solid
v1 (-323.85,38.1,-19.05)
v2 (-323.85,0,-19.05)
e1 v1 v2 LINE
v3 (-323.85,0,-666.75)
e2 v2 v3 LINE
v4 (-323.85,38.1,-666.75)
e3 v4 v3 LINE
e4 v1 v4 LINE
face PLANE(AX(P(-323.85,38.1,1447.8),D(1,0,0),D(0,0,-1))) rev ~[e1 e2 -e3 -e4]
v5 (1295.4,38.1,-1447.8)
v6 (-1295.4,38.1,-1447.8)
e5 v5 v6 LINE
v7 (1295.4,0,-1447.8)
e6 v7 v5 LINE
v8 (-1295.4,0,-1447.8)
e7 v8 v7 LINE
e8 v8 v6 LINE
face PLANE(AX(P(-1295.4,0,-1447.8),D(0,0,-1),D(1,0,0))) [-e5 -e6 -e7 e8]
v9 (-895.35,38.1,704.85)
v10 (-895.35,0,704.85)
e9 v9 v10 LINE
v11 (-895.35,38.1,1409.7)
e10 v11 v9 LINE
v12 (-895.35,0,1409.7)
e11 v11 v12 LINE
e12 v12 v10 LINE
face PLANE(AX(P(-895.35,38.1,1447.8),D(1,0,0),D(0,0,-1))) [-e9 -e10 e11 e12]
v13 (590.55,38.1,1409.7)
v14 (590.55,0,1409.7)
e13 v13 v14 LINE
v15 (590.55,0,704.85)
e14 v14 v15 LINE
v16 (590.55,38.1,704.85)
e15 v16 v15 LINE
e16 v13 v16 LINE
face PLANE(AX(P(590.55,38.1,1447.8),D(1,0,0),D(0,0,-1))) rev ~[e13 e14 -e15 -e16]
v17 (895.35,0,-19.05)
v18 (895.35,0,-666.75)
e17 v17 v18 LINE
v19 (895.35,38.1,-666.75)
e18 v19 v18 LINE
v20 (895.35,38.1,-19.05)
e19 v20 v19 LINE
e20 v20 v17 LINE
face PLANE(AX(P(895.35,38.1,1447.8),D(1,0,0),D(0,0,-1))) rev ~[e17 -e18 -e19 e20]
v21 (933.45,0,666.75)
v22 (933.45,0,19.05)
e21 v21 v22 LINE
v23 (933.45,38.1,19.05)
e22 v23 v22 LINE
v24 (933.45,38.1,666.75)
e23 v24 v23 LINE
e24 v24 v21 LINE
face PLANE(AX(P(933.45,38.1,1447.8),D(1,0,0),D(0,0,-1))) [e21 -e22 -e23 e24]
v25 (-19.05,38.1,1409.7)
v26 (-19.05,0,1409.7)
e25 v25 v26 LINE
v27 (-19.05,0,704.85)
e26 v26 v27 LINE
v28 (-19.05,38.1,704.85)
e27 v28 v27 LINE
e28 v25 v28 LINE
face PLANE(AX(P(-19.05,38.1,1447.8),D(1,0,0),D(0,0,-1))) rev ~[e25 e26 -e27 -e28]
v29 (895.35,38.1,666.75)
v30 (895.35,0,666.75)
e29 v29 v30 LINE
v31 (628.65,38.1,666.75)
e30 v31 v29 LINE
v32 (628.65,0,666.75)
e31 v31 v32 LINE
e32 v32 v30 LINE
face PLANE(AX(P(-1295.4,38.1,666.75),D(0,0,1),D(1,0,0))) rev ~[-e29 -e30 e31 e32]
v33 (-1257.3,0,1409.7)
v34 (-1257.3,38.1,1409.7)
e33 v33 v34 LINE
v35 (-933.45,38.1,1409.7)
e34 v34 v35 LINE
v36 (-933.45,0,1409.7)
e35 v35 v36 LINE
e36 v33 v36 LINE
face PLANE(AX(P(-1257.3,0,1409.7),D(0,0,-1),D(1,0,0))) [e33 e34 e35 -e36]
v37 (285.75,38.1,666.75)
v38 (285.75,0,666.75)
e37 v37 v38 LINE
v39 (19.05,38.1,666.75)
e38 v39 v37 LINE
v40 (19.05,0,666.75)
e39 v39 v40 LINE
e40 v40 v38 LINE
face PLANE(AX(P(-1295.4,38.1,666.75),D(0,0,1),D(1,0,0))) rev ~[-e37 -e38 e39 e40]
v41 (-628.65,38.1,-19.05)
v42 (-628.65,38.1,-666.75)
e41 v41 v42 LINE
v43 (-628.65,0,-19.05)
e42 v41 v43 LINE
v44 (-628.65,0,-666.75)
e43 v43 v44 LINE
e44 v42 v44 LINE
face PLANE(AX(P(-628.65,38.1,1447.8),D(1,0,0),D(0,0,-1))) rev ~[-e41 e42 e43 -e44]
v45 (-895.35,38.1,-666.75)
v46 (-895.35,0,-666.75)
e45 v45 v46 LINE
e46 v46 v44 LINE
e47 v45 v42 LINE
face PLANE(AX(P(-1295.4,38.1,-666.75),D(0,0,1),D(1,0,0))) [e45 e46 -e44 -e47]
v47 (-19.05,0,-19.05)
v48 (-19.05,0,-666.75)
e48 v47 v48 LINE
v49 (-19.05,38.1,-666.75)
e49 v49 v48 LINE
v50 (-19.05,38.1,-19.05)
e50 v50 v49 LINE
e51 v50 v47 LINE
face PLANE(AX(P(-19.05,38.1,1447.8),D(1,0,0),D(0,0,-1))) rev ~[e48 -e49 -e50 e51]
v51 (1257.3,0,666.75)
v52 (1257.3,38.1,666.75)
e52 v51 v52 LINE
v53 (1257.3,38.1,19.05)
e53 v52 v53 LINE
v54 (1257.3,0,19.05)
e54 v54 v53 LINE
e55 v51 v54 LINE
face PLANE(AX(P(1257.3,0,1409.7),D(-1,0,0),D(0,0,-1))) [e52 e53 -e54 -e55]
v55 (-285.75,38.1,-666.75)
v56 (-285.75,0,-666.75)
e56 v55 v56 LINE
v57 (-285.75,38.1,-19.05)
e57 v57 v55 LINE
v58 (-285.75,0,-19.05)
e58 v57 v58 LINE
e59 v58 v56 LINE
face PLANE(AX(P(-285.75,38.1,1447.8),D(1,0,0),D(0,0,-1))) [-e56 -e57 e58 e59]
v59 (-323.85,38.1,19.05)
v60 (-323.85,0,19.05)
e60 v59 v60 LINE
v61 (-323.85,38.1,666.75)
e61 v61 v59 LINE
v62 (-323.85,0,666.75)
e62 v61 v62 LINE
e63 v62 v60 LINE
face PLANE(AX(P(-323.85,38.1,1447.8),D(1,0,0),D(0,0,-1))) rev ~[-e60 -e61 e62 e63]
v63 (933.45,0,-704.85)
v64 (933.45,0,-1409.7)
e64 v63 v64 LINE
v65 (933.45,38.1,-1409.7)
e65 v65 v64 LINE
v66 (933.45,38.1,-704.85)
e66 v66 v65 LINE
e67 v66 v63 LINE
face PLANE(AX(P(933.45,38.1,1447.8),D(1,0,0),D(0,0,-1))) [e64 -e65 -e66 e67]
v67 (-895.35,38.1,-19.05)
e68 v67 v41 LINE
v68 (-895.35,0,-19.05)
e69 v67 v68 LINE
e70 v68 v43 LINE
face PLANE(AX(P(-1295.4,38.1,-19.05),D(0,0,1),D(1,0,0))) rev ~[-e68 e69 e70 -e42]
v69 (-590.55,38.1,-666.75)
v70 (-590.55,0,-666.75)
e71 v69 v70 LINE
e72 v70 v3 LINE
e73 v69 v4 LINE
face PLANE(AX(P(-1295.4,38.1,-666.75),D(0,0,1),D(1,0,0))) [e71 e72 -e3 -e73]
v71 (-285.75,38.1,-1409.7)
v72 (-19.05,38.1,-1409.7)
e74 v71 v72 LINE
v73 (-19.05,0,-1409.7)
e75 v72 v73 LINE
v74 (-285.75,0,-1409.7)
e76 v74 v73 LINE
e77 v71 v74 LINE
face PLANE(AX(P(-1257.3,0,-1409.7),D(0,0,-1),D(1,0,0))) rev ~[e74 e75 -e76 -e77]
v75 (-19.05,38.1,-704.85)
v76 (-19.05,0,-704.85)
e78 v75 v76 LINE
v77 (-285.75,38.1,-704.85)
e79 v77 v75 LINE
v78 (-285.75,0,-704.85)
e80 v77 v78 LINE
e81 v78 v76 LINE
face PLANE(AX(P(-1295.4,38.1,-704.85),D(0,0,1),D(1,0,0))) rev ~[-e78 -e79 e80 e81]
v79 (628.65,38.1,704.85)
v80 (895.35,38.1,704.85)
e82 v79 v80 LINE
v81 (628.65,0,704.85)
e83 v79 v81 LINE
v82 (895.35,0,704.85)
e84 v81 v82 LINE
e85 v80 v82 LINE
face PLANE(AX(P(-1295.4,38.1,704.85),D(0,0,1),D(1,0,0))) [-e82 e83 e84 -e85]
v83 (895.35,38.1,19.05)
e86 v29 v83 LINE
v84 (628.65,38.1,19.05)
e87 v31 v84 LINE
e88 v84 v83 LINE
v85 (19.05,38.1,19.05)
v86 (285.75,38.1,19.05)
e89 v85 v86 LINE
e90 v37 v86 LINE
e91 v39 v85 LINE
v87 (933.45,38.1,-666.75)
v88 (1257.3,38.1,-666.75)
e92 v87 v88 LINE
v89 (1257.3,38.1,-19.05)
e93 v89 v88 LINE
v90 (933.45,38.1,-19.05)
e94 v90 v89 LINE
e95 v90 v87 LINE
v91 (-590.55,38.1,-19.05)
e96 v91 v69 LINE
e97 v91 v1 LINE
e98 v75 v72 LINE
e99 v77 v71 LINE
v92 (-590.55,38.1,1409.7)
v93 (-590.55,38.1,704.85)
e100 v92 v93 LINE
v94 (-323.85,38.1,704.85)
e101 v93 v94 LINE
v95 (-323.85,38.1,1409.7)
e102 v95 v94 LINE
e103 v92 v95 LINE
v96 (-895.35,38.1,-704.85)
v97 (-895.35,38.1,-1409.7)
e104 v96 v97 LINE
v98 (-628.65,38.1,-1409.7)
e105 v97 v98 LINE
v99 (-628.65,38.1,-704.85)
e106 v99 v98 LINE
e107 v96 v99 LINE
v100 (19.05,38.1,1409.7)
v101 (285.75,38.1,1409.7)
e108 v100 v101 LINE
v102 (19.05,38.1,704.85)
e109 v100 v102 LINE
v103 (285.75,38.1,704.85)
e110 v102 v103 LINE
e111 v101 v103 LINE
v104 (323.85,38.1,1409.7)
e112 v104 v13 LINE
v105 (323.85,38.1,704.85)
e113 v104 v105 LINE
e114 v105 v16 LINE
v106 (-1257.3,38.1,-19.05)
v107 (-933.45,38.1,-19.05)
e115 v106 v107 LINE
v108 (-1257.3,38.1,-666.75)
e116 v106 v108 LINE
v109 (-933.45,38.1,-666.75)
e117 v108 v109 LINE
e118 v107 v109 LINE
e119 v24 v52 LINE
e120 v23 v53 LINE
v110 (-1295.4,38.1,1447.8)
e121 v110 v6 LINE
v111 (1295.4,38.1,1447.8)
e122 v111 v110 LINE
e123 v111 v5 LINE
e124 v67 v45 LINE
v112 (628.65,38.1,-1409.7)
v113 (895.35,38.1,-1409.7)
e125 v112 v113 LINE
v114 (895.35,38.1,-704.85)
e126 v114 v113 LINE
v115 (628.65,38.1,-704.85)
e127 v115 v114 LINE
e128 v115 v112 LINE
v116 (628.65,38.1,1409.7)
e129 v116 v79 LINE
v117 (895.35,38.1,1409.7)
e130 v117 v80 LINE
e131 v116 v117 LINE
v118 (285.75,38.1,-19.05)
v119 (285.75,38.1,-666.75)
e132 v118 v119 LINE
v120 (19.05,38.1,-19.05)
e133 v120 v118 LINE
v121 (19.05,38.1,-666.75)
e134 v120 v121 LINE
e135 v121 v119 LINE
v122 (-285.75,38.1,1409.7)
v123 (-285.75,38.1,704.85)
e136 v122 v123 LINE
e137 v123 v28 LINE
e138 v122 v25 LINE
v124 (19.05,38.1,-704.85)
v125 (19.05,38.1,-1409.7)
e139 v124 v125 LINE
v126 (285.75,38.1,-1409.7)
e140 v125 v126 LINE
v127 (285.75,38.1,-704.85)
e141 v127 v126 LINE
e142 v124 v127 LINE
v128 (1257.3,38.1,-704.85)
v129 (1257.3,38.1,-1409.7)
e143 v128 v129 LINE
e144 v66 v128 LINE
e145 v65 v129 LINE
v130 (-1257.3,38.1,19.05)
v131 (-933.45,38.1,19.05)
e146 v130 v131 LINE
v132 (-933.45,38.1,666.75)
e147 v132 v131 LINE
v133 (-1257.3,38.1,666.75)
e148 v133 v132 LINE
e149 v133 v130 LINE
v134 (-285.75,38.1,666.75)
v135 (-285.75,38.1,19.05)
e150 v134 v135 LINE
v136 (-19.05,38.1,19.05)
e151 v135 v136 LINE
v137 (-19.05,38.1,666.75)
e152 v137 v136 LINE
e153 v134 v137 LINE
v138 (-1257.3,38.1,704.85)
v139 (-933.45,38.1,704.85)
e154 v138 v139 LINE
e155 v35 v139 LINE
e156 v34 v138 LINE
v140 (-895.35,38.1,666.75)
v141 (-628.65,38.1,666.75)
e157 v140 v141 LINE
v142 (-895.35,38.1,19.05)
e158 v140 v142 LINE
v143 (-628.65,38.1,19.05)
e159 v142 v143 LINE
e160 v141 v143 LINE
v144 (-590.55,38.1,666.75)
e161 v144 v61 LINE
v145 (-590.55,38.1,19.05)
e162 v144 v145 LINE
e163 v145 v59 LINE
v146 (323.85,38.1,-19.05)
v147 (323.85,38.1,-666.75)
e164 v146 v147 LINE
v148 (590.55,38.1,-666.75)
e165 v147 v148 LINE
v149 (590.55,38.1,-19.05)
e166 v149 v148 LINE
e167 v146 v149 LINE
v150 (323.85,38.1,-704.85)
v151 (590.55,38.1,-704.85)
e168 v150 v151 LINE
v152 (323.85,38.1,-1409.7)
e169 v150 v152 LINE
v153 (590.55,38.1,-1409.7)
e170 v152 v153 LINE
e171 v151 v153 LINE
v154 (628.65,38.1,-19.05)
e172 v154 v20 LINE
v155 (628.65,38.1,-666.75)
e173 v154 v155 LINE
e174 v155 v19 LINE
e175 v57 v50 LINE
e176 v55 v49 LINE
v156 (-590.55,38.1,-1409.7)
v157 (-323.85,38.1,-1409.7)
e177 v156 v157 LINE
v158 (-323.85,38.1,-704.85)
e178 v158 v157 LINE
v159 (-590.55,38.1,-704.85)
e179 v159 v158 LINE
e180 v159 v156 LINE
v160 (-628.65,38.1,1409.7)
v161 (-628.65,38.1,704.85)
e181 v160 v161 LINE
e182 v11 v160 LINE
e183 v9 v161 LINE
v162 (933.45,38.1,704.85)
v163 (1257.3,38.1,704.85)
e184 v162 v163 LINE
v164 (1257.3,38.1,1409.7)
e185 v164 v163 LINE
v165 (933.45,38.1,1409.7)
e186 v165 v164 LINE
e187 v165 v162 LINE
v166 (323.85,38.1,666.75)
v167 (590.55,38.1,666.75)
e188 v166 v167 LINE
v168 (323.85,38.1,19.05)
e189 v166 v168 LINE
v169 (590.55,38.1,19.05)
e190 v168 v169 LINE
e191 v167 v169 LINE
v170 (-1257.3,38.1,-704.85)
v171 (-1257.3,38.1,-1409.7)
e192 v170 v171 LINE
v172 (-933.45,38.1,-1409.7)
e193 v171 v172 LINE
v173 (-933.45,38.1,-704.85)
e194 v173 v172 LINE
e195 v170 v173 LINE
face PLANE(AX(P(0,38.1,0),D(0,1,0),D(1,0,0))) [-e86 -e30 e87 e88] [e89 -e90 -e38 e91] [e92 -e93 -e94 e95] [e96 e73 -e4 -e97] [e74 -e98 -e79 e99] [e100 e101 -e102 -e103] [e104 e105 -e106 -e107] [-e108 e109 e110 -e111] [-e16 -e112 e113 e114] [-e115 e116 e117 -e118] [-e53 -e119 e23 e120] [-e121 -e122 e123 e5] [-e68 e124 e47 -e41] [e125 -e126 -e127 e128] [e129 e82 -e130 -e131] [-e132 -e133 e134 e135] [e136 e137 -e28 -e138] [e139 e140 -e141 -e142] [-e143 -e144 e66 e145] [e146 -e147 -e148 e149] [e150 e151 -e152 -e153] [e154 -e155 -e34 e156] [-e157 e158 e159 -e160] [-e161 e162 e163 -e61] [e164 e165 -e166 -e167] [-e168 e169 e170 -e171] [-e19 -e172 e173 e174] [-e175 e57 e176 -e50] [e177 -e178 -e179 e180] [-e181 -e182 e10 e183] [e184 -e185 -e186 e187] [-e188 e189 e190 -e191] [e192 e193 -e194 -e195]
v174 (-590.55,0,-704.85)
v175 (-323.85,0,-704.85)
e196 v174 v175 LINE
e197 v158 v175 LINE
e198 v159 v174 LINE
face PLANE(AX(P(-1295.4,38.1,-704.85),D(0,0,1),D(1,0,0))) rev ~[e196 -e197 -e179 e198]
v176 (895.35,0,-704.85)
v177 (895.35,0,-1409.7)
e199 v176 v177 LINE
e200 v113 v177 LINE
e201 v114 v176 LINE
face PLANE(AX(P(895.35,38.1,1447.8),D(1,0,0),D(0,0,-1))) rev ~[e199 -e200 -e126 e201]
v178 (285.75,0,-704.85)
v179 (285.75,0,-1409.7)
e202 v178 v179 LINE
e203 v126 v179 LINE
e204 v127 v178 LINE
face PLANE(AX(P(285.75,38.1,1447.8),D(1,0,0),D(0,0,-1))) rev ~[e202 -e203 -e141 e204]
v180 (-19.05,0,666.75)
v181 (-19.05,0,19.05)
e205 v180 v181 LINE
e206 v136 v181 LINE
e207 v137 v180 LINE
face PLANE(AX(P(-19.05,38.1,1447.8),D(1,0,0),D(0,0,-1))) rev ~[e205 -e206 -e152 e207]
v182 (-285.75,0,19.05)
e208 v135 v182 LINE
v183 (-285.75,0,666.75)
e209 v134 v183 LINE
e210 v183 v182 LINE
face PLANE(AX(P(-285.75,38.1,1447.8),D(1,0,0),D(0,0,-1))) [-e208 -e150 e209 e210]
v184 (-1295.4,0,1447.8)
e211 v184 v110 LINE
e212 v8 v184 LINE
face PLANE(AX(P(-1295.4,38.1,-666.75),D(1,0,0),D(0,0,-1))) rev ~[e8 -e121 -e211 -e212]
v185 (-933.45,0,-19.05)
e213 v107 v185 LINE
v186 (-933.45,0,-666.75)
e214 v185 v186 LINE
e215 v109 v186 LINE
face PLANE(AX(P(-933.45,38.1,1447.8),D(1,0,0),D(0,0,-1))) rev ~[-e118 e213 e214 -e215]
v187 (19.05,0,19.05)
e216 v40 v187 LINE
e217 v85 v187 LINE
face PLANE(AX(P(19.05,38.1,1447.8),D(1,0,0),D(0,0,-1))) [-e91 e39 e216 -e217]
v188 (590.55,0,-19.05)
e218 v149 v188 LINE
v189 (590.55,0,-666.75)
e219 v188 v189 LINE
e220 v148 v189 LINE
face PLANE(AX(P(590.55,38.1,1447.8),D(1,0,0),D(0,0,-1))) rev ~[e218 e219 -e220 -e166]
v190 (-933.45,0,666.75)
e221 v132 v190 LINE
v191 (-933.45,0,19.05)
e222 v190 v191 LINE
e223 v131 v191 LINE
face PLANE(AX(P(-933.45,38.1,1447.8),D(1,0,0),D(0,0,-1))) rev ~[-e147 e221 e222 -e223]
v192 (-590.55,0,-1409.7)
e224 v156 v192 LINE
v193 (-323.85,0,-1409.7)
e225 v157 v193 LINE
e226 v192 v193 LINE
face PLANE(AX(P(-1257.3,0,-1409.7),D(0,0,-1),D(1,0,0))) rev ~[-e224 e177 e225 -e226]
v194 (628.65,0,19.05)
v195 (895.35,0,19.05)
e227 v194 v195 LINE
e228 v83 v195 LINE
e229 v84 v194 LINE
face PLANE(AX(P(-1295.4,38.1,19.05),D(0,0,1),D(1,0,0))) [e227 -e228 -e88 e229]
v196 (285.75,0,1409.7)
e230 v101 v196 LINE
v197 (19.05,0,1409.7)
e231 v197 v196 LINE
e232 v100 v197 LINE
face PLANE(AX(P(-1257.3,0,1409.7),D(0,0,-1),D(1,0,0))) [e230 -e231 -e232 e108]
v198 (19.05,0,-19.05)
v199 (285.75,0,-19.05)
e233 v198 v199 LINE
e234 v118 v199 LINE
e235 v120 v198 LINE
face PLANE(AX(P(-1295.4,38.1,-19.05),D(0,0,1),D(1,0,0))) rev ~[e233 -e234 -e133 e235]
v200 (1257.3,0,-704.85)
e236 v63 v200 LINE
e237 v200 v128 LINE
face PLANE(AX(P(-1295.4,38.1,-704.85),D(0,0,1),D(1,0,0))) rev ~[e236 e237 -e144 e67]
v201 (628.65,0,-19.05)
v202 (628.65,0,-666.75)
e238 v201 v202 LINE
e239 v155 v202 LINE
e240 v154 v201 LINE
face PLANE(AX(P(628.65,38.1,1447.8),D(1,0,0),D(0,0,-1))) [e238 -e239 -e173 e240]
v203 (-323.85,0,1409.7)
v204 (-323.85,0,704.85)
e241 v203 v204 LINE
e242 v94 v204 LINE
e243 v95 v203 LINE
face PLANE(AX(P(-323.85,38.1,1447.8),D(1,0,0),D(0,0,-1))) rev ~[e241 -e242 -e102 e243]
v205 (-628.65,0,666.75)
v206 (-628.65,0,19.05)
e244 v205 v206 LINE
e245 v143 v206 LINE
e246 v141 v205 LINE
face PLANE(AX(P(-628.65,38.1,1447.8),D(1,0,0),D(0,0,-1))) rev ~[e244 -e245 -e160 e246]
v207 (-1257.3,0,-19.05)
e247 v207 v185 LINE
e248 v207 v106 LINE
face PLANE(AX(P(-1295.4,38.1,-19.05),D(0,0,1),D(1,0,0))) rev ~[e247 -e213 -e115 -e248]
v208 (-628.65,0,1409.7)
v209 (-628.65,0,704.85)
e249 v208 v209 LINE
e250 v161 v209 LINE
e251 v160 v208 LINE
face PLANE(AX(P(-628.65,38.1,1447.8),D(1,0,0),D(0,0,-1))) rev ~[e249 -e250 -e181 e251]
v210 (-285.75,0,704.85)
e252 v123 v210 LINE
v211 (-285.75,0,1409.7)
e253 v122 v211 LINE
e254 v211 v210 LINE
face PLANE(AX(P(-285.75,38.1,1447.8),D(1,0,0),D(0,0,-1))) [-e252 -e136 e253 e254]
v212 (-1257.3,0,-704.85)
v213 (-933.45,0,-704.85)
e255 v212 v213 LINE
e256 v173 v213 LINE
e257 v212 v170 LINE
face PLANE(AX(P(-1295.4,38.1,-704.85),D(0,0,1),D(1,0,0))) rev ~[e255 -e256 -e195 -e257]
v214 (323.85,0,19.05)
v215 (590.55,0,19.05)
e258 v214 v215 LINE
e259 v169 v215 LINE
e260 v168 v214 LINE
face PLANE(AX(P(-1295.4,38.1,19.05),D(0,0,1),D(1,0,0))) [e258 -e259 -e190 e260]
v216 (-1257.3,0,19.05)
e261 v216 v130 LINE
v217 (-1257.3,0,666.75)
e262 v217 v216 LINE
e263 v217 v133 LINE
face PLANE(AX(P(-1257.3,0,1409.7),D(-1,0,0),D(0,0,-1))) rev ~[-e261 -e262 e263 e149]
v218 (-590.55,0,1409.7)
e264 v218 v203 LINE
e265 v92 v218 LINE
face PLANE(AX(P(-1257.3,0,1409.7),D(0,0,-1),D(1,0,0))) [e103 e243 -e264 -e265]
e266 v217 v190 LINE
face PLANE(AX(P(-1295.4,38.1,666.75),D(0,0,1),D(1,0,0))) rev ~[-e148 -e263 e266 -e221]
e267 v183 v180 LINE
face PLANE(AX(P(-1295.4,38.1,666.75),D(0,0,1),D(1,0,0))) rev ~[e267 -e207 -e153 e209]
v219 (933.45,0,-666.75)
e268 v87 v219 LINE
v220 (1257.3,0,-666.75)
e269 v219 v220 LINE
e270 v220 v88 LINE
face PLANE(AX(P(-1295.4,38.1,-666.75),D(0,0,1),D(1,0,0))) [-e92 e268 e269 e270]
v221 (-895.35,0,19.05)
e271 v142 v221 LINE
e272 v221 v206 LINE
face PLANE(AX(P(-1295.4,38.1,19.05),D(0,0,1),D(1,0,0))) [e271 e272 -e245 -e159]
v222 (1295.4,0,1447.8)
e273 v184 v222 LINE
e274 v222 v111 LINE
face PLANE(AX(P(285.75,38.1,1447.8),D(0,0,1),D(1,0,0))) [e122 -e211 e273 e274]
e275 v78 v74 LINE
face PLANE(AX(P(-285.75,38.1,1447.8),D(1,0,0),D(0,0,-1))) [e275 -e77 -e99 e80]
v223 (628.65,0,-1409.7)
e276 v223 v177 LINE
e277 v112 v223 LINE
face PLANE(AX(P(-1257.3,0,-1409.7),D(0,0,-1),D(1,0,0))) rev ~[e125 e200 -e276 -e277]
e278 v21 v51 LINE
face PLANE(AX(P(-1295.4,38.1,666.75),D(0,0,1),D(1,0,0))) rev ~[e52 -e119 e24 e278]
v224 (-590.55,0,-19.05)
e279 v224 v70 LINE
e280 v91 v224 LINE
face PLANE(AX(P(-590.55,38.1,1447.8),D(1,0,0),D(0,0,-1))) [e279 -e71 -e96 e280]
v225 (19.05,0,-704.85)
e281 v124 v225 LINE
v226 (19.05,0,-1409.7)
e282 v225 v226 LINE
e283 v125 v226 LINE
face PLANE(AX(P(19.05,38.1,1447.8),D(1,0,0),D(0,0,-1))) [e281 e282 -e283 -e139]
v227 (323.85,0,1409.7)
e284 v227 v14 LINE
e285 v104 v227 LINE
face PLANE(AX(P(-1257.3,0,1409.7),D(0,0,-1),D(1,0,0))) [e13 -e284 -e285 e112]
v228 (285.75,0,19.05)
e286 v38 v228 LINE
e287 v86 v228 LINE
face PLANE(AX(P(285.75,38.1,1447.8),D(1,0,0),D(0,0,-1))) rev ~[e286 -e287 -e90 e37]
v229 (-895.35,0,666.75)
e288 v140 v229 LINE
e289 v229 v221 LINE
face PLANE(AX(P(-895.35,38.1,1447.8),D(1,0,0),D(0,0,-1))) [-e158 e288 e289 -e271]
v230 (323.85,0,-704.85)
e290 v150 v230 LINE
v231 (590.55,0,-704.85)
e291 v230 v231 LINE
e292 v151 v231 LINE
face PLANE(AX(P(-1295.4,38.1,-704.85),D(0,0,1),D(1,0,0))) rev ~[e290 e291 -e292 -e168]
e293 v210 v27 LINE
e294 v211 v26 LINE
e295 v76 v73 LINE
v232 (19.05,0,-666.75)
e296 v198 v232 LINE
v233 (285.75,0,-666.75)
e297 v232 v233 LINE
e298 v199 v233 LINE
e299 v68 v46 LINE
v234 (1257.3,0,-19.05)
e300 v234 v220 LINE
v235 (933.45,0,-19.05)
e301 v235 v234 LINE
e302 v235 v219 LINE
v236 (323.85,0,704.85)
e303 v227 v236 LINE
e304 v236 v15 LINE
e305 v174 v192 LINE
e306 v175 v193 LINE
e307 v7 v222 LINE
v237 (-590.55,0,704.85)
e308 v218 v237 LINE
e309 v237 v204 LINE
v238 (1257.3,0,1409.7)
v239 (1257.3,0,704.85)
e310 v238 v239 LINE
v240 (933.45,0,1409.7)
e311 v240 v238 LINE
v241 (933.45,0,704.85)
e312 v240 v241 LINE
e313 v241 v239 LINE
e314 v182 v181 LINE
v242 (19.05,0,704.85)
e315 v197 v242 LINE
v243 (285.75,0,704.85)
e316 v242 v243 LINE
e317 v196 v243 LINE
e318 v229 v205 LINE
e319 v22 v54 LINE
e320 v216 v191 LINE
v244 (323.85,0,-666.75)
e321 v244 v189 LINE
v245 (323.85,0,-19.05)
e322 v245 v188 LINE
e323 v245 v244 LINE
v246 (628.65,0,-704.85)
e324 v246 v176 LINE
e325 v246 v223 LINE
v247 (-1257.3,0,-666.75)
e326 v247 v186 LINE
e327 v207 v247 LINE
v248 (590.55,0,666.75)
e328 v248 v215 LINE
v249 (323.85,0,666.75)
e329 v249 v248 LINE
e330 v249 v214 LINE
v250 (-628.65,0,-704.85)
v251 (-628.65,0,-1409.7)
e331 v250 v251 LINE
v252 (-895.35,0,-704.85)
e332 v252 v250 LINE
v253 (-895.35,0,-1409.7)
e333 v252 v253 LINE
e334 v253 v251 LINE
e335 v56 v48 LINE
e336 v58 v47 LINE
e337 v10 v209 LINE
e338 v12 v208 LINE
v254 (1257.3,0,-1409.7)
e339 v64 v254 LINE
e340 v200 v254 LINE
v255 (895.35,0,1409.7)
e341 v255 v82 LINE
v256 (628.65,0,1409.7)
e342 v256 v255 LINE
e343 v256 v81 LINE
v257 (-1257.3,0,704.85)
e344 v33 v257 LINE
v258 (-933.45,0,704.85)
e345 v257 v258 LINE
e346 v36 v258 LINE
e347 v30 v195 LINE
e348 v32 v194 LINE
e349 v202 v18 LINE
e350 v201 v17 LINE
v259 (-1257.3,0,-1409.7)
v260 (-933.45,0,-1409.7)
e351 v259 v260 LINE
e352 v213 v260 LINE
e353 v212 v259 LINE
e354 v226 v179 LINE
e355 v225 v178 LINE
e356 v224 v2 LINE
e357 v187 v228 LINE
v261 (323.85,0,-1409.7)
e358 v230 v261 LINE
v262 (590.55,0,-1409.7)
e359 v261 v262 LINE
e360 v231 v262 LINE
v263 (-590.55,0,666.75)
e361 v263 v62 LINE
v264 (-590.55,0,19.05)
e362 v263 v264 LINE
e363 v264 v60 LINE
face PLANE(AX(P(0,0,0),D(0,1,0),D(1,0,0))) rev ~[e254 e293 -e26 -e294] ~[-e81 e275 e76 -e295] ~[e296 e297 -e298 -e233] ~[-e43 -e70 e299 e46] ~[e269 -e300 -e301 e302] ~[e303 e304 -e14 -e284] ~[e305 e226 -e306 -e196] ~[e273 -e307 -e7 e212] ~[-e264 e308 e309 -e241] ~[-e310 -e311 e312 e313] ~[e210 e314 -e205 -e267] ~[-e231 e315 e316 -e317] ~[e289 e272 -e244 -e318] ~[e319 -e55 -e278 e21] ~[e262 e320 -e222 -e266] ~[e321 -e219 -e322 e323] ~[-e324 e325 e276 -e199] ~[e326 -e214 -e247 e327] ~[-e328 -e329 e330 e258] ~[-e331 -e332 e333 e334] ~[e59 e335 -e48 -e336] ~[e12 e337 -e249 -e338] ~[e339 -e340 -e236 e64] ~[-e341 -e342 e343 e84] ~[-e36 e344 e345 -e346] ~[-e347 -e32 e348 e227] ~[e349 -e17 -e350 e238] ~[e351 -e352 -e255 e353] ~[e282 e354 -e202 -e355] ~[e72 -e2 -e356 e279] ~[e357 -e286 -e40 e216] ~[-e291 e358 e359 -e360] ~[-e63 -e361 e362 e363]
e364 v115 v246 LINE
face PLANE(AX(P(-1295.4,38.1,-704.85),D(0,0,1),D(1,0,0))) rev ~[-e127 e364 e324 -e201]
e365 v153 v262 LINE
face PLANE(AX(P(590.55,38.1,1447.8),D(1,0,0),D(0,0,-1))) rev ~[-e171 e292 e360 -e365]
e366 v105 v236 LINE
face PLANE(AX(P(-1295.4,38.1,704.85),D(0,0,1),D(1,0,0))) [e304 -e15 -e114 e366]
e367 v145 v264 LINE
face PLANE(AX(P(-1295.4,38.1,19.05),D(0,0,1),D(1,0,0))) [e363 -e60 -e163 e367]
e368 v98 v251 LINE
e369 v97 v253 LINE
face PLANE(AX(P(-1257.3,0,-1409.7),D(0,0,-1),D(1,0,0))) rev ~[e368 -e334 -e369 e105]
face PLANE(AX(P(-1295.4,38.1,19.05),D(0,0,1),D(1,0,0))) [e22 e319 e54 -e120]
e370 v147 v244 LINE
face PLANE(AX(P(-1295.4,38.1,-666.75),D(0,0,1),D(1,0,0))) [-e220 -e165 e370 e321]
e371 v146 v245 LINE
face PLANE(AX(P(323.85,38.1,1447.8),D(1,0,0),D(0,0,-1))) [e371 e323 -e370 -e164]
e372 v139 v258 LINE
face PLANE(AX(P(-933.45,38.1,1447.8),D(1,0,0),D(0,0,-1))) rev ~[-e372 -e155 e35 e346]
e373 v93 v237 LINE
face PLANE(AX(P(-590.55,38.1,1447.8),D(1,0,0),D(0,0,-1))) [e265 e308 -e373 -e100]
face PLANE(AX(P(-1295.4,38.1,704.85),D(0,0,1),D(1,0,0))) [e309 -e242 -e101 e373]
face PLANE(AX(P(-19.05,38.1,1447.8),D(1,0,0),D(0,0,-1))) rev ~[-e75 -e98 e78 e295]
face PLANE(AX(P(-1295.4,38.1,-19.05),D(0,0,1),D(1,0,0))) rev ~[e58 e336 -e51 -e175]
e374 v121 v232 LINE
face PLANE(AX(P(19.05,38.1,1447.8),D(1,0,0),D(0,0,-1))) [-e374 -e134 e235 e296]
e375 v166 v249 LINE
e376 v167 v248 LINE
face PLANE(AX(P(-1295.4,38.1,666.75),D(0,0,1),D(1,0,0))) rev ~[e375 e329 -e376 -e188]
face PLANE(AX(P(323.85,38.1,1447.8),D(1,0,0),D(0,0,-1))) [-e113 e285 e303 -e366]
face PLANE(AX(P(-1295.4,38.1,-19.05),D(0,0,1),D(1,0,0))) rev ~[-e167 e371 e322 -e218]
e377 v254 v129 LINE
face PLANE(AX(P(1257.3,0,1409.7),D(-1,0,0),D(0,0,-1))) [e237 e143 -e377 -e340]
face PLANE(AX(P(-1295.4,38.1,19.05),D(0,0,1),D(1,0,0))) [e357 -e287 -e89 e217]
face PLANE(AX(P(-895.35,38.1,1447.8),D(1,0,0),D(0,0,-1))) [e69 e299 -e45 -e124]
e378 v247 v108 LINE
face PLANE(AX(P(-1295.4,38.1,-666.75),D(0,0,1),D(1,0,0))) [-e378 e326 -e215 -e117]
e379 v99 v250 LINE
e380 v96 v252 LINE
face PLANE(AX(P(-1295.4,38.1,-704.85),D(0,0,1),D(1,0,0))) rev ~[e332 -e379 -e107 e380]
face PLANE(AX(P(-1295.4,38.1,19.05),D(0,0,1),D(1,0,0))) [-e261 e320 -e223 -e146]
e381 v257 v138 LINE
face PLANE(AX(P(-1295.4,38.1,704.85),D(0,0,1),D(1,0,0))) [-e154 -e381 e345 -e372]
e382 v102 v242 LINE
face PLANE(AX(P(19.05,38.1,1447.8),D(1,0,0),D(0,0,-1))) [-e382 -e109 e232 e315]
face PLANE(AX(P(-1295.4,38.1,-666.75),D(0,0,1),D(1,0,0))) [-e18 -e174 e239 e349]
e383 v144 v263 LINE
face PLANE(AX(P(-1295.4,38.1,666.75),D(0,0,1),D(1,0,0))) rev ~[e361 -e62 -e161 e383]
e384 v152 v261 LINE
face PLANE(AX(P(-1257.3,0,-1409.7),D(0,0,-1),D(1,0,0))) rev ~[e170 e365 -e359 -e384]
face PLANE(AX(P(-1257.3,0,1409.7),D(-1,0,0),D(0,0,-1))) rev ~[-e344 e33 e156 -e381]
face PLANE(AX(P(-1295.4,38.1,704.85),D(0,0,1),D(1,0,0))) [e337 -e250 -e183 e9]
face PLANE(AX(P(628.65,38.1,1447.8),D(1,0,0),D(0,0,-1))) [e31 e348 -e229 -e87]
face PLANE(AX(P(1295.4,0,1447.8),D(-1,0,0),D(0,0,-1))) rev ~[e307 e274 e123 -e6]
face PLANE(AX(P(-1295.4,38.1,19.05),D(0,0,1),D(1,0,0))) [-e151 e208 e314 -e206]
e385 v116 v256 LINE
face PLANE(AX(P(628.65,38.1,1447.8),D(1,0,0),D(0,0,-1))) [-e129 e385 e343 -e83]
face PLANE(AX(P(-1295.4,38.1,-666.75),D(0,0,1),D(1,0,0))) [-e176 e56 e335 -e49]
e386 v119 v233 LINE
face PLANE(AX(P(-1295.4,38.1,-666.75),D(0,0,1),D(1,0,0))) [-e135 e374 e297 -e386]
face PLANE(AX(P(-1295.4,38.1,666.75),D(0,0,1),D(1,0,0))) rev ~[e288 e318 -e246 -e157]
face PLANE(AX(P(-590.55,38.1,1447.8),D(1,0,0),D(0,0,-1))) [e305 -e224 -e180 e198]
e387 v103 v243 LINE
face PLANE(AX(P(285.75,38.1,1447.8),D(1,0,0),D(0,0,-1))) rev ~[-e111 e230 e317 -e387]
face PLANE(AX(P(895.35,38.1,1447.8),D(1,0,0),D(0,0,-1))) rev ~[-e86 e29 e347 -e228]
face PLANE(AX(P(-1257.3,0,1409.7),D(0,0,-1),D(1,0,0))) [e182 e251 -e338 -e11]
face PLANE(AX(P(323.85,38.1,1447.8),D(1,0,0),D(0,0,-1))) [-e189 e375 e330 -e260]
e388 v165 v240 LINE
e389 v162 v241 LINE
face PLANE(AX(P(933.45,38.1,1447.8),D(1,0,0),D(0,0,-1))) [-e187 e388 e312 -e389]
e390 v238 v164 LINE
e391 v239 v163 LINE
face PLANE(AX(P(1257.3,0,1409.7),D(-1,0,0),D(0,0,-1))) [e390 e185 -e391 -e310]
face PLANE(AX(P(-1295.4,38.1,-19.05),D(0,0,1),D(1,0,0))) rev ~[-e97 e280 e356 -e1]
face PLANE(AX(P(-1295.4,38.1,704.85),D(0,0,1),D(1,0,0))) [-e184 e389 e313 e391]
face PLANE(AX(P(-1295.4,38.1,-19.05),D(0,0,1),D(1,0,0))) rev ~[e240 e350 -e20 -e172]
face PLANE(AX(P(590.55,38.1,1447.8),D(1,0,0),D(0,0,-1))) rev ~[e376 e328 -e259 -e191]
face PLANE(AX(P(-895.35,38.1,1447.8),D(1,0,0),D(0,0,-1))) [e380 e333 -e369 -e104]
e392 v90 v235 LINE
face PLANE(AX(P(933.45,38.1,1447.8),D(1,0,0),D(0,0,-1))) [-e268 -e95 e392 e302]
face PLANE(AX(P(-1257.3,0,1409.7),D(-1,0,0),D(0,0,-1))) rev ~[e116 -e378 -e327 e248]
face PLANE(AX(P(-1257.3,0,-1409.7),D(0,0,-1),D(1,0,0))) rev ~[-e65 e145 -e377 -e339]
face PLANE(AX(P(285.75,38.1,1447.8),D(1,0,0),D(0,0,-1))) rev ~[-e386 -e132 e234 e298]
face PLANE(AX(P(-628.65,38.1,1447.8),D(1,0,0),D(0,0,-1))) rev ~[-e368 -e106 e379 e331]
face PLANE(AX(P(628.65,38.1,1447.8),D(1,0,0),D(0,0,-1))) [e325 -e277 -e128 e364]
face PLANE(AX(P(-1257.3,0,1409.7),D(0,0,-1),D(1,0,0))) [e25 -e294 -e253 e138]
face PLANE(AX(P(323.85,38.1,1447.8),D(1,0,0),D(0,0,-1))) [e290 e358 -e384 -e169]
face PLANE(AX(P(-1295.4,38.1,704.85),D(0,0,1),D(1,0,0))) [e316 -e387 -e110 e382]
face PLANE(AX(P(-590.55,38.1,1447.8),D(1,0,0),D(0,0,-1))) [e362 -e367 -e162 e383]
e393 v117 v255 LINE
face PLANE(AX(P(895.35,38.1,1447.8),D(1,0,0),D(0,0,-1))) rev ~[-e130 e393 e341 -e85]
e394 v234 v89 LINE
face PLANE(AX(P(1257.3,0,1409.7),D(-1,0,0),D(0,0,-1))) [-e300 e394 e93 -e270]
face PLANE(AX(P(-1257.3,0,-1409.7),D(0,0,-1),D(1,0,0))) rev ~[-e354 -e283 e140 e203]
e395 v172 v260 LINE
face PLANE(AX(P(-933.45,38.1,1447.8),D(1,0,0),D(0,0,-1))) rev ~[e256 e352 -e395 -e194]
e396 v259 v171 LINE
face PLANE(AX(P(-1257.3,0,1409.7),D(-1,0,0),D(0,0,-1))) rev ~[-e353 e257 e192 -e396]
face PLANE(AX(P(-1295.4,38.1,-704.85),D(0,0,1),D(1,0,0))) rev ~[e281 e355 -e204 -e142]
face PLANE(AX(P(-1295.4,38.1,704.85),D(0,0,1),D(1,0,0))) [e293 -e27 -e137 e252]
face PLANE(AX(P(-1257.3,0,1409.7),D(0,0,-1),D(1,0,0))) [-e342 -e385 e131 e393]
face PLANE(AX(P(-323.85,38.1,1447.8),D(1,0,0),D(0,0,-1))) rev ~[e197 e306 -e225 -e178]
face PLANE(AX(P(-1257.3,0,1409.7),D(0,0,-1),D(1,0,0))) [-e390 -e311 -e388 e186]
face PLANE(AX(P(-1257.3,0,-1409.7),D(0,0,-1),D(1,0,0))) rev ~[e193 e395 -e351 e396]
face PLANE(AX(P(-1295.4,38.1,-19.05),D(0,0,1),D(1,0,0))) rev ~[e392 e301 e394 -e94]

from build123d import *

# Parameters (mm, degrees)
SKETCH1_W           = 2590.8
SKETCH1_H           = 2895.6
SKETCH1_W_2         = 2514.6
SKETCH1_H_2         = 2819.4
BOSS_EXTRUDE1_DEPTH = 38.1
SKETCH2_W           = 38.1
SKETCH2_H           = 2895.6
BOSS_EXTRUDE2_DEPTH = 38.1
LPATTERN1_COUNT     = 4
LPATTERN1_PITCH     = 304.8
LPATTERN2_COUNT     = 4
LPATTERN2_PITCH     = 304.8
SKETCH3_W           = 2590.8
SKETCH3_H           = 38.1
BOSS_EXTRUDE3_DEPTH = 38.1
LPATTERN3_COUNT     = 2
LPATTERN3_PITCH     = 685.8
LPATTERN4_COUNT     = 2
LPATTERN4_PITCH     = 685.8


with BuildPart() as part:
    # Sketch1 → Boss-Extrude1 (new body)
    with BuildSketch(Plane(origin=(0, 0, 0), x_dir=(1, 0, 0), z_dir=(0, 1, 0))):
        Rectangle(SKETCH1_W, SKETCH1_H)
        Rectangle(SKETCH1_W_2, SKETCH1_H_2, mode=Mode.SUBTRACT)
    extrude(amount=BOSS_EXTRUDE1_DEPTH)

    # Sketch2 → Boss-Extrude2 (add)
    with BuildSketch(Plane(origin=(0, 38.1, 0), x_dir=(1, 0, 0), z_dir=(0, 1, 0))):
        Rectangle(SKETCH2_W, SKETCH2_H)
    boss_extrude2 = extrude(amount=-BOSS_EXTRUDE2_DEPTH)

    # LPattern1: Boss-Extrude2 ×4
    with Locations(*[(-i * LPATTERN1_PITCH, 0, 0) for i in range(1, LPATTERN1_COUNT)]):
        add(boss_extrude2)

    # LPattern2: Boss-Extrude2 ×4
    with Locations(*[(i * LPATTERN2_PITCH, 0, 0) for i in range(1, LPATTERN2_COUNT)]):
        add(boss_extrude2)

    # Sketch3 → Boss-Extrude3 (add)
    with BuildSketch(Plane(origin=(0, 38.1, 0), x_dir=(1, 0, 0), z_dir=(0, 1, 0))):
        Rectangle(SKETCH3_W, SKETCH3_H)
    boss_extrude3 = extrude(amount=-BOSS_EXTRUDE3_DEPTH)

    # LPattern3: Boss-Extrude3 ×2
    with Locations(*[(0, 0, i * LPATTERN3_PITCH) for i in range(1, LPATTERN3_COUNT)]):
        add(boss_extrude3)

    # LPattern4: Boss-Extrude3 ×2
    with Locations(*[(0, 0, -i * LPATTERN4_PITCH) for i in range(1, LPATTERN4_COUNT)]):
        add(boss_extrude3)


solid = part.part
